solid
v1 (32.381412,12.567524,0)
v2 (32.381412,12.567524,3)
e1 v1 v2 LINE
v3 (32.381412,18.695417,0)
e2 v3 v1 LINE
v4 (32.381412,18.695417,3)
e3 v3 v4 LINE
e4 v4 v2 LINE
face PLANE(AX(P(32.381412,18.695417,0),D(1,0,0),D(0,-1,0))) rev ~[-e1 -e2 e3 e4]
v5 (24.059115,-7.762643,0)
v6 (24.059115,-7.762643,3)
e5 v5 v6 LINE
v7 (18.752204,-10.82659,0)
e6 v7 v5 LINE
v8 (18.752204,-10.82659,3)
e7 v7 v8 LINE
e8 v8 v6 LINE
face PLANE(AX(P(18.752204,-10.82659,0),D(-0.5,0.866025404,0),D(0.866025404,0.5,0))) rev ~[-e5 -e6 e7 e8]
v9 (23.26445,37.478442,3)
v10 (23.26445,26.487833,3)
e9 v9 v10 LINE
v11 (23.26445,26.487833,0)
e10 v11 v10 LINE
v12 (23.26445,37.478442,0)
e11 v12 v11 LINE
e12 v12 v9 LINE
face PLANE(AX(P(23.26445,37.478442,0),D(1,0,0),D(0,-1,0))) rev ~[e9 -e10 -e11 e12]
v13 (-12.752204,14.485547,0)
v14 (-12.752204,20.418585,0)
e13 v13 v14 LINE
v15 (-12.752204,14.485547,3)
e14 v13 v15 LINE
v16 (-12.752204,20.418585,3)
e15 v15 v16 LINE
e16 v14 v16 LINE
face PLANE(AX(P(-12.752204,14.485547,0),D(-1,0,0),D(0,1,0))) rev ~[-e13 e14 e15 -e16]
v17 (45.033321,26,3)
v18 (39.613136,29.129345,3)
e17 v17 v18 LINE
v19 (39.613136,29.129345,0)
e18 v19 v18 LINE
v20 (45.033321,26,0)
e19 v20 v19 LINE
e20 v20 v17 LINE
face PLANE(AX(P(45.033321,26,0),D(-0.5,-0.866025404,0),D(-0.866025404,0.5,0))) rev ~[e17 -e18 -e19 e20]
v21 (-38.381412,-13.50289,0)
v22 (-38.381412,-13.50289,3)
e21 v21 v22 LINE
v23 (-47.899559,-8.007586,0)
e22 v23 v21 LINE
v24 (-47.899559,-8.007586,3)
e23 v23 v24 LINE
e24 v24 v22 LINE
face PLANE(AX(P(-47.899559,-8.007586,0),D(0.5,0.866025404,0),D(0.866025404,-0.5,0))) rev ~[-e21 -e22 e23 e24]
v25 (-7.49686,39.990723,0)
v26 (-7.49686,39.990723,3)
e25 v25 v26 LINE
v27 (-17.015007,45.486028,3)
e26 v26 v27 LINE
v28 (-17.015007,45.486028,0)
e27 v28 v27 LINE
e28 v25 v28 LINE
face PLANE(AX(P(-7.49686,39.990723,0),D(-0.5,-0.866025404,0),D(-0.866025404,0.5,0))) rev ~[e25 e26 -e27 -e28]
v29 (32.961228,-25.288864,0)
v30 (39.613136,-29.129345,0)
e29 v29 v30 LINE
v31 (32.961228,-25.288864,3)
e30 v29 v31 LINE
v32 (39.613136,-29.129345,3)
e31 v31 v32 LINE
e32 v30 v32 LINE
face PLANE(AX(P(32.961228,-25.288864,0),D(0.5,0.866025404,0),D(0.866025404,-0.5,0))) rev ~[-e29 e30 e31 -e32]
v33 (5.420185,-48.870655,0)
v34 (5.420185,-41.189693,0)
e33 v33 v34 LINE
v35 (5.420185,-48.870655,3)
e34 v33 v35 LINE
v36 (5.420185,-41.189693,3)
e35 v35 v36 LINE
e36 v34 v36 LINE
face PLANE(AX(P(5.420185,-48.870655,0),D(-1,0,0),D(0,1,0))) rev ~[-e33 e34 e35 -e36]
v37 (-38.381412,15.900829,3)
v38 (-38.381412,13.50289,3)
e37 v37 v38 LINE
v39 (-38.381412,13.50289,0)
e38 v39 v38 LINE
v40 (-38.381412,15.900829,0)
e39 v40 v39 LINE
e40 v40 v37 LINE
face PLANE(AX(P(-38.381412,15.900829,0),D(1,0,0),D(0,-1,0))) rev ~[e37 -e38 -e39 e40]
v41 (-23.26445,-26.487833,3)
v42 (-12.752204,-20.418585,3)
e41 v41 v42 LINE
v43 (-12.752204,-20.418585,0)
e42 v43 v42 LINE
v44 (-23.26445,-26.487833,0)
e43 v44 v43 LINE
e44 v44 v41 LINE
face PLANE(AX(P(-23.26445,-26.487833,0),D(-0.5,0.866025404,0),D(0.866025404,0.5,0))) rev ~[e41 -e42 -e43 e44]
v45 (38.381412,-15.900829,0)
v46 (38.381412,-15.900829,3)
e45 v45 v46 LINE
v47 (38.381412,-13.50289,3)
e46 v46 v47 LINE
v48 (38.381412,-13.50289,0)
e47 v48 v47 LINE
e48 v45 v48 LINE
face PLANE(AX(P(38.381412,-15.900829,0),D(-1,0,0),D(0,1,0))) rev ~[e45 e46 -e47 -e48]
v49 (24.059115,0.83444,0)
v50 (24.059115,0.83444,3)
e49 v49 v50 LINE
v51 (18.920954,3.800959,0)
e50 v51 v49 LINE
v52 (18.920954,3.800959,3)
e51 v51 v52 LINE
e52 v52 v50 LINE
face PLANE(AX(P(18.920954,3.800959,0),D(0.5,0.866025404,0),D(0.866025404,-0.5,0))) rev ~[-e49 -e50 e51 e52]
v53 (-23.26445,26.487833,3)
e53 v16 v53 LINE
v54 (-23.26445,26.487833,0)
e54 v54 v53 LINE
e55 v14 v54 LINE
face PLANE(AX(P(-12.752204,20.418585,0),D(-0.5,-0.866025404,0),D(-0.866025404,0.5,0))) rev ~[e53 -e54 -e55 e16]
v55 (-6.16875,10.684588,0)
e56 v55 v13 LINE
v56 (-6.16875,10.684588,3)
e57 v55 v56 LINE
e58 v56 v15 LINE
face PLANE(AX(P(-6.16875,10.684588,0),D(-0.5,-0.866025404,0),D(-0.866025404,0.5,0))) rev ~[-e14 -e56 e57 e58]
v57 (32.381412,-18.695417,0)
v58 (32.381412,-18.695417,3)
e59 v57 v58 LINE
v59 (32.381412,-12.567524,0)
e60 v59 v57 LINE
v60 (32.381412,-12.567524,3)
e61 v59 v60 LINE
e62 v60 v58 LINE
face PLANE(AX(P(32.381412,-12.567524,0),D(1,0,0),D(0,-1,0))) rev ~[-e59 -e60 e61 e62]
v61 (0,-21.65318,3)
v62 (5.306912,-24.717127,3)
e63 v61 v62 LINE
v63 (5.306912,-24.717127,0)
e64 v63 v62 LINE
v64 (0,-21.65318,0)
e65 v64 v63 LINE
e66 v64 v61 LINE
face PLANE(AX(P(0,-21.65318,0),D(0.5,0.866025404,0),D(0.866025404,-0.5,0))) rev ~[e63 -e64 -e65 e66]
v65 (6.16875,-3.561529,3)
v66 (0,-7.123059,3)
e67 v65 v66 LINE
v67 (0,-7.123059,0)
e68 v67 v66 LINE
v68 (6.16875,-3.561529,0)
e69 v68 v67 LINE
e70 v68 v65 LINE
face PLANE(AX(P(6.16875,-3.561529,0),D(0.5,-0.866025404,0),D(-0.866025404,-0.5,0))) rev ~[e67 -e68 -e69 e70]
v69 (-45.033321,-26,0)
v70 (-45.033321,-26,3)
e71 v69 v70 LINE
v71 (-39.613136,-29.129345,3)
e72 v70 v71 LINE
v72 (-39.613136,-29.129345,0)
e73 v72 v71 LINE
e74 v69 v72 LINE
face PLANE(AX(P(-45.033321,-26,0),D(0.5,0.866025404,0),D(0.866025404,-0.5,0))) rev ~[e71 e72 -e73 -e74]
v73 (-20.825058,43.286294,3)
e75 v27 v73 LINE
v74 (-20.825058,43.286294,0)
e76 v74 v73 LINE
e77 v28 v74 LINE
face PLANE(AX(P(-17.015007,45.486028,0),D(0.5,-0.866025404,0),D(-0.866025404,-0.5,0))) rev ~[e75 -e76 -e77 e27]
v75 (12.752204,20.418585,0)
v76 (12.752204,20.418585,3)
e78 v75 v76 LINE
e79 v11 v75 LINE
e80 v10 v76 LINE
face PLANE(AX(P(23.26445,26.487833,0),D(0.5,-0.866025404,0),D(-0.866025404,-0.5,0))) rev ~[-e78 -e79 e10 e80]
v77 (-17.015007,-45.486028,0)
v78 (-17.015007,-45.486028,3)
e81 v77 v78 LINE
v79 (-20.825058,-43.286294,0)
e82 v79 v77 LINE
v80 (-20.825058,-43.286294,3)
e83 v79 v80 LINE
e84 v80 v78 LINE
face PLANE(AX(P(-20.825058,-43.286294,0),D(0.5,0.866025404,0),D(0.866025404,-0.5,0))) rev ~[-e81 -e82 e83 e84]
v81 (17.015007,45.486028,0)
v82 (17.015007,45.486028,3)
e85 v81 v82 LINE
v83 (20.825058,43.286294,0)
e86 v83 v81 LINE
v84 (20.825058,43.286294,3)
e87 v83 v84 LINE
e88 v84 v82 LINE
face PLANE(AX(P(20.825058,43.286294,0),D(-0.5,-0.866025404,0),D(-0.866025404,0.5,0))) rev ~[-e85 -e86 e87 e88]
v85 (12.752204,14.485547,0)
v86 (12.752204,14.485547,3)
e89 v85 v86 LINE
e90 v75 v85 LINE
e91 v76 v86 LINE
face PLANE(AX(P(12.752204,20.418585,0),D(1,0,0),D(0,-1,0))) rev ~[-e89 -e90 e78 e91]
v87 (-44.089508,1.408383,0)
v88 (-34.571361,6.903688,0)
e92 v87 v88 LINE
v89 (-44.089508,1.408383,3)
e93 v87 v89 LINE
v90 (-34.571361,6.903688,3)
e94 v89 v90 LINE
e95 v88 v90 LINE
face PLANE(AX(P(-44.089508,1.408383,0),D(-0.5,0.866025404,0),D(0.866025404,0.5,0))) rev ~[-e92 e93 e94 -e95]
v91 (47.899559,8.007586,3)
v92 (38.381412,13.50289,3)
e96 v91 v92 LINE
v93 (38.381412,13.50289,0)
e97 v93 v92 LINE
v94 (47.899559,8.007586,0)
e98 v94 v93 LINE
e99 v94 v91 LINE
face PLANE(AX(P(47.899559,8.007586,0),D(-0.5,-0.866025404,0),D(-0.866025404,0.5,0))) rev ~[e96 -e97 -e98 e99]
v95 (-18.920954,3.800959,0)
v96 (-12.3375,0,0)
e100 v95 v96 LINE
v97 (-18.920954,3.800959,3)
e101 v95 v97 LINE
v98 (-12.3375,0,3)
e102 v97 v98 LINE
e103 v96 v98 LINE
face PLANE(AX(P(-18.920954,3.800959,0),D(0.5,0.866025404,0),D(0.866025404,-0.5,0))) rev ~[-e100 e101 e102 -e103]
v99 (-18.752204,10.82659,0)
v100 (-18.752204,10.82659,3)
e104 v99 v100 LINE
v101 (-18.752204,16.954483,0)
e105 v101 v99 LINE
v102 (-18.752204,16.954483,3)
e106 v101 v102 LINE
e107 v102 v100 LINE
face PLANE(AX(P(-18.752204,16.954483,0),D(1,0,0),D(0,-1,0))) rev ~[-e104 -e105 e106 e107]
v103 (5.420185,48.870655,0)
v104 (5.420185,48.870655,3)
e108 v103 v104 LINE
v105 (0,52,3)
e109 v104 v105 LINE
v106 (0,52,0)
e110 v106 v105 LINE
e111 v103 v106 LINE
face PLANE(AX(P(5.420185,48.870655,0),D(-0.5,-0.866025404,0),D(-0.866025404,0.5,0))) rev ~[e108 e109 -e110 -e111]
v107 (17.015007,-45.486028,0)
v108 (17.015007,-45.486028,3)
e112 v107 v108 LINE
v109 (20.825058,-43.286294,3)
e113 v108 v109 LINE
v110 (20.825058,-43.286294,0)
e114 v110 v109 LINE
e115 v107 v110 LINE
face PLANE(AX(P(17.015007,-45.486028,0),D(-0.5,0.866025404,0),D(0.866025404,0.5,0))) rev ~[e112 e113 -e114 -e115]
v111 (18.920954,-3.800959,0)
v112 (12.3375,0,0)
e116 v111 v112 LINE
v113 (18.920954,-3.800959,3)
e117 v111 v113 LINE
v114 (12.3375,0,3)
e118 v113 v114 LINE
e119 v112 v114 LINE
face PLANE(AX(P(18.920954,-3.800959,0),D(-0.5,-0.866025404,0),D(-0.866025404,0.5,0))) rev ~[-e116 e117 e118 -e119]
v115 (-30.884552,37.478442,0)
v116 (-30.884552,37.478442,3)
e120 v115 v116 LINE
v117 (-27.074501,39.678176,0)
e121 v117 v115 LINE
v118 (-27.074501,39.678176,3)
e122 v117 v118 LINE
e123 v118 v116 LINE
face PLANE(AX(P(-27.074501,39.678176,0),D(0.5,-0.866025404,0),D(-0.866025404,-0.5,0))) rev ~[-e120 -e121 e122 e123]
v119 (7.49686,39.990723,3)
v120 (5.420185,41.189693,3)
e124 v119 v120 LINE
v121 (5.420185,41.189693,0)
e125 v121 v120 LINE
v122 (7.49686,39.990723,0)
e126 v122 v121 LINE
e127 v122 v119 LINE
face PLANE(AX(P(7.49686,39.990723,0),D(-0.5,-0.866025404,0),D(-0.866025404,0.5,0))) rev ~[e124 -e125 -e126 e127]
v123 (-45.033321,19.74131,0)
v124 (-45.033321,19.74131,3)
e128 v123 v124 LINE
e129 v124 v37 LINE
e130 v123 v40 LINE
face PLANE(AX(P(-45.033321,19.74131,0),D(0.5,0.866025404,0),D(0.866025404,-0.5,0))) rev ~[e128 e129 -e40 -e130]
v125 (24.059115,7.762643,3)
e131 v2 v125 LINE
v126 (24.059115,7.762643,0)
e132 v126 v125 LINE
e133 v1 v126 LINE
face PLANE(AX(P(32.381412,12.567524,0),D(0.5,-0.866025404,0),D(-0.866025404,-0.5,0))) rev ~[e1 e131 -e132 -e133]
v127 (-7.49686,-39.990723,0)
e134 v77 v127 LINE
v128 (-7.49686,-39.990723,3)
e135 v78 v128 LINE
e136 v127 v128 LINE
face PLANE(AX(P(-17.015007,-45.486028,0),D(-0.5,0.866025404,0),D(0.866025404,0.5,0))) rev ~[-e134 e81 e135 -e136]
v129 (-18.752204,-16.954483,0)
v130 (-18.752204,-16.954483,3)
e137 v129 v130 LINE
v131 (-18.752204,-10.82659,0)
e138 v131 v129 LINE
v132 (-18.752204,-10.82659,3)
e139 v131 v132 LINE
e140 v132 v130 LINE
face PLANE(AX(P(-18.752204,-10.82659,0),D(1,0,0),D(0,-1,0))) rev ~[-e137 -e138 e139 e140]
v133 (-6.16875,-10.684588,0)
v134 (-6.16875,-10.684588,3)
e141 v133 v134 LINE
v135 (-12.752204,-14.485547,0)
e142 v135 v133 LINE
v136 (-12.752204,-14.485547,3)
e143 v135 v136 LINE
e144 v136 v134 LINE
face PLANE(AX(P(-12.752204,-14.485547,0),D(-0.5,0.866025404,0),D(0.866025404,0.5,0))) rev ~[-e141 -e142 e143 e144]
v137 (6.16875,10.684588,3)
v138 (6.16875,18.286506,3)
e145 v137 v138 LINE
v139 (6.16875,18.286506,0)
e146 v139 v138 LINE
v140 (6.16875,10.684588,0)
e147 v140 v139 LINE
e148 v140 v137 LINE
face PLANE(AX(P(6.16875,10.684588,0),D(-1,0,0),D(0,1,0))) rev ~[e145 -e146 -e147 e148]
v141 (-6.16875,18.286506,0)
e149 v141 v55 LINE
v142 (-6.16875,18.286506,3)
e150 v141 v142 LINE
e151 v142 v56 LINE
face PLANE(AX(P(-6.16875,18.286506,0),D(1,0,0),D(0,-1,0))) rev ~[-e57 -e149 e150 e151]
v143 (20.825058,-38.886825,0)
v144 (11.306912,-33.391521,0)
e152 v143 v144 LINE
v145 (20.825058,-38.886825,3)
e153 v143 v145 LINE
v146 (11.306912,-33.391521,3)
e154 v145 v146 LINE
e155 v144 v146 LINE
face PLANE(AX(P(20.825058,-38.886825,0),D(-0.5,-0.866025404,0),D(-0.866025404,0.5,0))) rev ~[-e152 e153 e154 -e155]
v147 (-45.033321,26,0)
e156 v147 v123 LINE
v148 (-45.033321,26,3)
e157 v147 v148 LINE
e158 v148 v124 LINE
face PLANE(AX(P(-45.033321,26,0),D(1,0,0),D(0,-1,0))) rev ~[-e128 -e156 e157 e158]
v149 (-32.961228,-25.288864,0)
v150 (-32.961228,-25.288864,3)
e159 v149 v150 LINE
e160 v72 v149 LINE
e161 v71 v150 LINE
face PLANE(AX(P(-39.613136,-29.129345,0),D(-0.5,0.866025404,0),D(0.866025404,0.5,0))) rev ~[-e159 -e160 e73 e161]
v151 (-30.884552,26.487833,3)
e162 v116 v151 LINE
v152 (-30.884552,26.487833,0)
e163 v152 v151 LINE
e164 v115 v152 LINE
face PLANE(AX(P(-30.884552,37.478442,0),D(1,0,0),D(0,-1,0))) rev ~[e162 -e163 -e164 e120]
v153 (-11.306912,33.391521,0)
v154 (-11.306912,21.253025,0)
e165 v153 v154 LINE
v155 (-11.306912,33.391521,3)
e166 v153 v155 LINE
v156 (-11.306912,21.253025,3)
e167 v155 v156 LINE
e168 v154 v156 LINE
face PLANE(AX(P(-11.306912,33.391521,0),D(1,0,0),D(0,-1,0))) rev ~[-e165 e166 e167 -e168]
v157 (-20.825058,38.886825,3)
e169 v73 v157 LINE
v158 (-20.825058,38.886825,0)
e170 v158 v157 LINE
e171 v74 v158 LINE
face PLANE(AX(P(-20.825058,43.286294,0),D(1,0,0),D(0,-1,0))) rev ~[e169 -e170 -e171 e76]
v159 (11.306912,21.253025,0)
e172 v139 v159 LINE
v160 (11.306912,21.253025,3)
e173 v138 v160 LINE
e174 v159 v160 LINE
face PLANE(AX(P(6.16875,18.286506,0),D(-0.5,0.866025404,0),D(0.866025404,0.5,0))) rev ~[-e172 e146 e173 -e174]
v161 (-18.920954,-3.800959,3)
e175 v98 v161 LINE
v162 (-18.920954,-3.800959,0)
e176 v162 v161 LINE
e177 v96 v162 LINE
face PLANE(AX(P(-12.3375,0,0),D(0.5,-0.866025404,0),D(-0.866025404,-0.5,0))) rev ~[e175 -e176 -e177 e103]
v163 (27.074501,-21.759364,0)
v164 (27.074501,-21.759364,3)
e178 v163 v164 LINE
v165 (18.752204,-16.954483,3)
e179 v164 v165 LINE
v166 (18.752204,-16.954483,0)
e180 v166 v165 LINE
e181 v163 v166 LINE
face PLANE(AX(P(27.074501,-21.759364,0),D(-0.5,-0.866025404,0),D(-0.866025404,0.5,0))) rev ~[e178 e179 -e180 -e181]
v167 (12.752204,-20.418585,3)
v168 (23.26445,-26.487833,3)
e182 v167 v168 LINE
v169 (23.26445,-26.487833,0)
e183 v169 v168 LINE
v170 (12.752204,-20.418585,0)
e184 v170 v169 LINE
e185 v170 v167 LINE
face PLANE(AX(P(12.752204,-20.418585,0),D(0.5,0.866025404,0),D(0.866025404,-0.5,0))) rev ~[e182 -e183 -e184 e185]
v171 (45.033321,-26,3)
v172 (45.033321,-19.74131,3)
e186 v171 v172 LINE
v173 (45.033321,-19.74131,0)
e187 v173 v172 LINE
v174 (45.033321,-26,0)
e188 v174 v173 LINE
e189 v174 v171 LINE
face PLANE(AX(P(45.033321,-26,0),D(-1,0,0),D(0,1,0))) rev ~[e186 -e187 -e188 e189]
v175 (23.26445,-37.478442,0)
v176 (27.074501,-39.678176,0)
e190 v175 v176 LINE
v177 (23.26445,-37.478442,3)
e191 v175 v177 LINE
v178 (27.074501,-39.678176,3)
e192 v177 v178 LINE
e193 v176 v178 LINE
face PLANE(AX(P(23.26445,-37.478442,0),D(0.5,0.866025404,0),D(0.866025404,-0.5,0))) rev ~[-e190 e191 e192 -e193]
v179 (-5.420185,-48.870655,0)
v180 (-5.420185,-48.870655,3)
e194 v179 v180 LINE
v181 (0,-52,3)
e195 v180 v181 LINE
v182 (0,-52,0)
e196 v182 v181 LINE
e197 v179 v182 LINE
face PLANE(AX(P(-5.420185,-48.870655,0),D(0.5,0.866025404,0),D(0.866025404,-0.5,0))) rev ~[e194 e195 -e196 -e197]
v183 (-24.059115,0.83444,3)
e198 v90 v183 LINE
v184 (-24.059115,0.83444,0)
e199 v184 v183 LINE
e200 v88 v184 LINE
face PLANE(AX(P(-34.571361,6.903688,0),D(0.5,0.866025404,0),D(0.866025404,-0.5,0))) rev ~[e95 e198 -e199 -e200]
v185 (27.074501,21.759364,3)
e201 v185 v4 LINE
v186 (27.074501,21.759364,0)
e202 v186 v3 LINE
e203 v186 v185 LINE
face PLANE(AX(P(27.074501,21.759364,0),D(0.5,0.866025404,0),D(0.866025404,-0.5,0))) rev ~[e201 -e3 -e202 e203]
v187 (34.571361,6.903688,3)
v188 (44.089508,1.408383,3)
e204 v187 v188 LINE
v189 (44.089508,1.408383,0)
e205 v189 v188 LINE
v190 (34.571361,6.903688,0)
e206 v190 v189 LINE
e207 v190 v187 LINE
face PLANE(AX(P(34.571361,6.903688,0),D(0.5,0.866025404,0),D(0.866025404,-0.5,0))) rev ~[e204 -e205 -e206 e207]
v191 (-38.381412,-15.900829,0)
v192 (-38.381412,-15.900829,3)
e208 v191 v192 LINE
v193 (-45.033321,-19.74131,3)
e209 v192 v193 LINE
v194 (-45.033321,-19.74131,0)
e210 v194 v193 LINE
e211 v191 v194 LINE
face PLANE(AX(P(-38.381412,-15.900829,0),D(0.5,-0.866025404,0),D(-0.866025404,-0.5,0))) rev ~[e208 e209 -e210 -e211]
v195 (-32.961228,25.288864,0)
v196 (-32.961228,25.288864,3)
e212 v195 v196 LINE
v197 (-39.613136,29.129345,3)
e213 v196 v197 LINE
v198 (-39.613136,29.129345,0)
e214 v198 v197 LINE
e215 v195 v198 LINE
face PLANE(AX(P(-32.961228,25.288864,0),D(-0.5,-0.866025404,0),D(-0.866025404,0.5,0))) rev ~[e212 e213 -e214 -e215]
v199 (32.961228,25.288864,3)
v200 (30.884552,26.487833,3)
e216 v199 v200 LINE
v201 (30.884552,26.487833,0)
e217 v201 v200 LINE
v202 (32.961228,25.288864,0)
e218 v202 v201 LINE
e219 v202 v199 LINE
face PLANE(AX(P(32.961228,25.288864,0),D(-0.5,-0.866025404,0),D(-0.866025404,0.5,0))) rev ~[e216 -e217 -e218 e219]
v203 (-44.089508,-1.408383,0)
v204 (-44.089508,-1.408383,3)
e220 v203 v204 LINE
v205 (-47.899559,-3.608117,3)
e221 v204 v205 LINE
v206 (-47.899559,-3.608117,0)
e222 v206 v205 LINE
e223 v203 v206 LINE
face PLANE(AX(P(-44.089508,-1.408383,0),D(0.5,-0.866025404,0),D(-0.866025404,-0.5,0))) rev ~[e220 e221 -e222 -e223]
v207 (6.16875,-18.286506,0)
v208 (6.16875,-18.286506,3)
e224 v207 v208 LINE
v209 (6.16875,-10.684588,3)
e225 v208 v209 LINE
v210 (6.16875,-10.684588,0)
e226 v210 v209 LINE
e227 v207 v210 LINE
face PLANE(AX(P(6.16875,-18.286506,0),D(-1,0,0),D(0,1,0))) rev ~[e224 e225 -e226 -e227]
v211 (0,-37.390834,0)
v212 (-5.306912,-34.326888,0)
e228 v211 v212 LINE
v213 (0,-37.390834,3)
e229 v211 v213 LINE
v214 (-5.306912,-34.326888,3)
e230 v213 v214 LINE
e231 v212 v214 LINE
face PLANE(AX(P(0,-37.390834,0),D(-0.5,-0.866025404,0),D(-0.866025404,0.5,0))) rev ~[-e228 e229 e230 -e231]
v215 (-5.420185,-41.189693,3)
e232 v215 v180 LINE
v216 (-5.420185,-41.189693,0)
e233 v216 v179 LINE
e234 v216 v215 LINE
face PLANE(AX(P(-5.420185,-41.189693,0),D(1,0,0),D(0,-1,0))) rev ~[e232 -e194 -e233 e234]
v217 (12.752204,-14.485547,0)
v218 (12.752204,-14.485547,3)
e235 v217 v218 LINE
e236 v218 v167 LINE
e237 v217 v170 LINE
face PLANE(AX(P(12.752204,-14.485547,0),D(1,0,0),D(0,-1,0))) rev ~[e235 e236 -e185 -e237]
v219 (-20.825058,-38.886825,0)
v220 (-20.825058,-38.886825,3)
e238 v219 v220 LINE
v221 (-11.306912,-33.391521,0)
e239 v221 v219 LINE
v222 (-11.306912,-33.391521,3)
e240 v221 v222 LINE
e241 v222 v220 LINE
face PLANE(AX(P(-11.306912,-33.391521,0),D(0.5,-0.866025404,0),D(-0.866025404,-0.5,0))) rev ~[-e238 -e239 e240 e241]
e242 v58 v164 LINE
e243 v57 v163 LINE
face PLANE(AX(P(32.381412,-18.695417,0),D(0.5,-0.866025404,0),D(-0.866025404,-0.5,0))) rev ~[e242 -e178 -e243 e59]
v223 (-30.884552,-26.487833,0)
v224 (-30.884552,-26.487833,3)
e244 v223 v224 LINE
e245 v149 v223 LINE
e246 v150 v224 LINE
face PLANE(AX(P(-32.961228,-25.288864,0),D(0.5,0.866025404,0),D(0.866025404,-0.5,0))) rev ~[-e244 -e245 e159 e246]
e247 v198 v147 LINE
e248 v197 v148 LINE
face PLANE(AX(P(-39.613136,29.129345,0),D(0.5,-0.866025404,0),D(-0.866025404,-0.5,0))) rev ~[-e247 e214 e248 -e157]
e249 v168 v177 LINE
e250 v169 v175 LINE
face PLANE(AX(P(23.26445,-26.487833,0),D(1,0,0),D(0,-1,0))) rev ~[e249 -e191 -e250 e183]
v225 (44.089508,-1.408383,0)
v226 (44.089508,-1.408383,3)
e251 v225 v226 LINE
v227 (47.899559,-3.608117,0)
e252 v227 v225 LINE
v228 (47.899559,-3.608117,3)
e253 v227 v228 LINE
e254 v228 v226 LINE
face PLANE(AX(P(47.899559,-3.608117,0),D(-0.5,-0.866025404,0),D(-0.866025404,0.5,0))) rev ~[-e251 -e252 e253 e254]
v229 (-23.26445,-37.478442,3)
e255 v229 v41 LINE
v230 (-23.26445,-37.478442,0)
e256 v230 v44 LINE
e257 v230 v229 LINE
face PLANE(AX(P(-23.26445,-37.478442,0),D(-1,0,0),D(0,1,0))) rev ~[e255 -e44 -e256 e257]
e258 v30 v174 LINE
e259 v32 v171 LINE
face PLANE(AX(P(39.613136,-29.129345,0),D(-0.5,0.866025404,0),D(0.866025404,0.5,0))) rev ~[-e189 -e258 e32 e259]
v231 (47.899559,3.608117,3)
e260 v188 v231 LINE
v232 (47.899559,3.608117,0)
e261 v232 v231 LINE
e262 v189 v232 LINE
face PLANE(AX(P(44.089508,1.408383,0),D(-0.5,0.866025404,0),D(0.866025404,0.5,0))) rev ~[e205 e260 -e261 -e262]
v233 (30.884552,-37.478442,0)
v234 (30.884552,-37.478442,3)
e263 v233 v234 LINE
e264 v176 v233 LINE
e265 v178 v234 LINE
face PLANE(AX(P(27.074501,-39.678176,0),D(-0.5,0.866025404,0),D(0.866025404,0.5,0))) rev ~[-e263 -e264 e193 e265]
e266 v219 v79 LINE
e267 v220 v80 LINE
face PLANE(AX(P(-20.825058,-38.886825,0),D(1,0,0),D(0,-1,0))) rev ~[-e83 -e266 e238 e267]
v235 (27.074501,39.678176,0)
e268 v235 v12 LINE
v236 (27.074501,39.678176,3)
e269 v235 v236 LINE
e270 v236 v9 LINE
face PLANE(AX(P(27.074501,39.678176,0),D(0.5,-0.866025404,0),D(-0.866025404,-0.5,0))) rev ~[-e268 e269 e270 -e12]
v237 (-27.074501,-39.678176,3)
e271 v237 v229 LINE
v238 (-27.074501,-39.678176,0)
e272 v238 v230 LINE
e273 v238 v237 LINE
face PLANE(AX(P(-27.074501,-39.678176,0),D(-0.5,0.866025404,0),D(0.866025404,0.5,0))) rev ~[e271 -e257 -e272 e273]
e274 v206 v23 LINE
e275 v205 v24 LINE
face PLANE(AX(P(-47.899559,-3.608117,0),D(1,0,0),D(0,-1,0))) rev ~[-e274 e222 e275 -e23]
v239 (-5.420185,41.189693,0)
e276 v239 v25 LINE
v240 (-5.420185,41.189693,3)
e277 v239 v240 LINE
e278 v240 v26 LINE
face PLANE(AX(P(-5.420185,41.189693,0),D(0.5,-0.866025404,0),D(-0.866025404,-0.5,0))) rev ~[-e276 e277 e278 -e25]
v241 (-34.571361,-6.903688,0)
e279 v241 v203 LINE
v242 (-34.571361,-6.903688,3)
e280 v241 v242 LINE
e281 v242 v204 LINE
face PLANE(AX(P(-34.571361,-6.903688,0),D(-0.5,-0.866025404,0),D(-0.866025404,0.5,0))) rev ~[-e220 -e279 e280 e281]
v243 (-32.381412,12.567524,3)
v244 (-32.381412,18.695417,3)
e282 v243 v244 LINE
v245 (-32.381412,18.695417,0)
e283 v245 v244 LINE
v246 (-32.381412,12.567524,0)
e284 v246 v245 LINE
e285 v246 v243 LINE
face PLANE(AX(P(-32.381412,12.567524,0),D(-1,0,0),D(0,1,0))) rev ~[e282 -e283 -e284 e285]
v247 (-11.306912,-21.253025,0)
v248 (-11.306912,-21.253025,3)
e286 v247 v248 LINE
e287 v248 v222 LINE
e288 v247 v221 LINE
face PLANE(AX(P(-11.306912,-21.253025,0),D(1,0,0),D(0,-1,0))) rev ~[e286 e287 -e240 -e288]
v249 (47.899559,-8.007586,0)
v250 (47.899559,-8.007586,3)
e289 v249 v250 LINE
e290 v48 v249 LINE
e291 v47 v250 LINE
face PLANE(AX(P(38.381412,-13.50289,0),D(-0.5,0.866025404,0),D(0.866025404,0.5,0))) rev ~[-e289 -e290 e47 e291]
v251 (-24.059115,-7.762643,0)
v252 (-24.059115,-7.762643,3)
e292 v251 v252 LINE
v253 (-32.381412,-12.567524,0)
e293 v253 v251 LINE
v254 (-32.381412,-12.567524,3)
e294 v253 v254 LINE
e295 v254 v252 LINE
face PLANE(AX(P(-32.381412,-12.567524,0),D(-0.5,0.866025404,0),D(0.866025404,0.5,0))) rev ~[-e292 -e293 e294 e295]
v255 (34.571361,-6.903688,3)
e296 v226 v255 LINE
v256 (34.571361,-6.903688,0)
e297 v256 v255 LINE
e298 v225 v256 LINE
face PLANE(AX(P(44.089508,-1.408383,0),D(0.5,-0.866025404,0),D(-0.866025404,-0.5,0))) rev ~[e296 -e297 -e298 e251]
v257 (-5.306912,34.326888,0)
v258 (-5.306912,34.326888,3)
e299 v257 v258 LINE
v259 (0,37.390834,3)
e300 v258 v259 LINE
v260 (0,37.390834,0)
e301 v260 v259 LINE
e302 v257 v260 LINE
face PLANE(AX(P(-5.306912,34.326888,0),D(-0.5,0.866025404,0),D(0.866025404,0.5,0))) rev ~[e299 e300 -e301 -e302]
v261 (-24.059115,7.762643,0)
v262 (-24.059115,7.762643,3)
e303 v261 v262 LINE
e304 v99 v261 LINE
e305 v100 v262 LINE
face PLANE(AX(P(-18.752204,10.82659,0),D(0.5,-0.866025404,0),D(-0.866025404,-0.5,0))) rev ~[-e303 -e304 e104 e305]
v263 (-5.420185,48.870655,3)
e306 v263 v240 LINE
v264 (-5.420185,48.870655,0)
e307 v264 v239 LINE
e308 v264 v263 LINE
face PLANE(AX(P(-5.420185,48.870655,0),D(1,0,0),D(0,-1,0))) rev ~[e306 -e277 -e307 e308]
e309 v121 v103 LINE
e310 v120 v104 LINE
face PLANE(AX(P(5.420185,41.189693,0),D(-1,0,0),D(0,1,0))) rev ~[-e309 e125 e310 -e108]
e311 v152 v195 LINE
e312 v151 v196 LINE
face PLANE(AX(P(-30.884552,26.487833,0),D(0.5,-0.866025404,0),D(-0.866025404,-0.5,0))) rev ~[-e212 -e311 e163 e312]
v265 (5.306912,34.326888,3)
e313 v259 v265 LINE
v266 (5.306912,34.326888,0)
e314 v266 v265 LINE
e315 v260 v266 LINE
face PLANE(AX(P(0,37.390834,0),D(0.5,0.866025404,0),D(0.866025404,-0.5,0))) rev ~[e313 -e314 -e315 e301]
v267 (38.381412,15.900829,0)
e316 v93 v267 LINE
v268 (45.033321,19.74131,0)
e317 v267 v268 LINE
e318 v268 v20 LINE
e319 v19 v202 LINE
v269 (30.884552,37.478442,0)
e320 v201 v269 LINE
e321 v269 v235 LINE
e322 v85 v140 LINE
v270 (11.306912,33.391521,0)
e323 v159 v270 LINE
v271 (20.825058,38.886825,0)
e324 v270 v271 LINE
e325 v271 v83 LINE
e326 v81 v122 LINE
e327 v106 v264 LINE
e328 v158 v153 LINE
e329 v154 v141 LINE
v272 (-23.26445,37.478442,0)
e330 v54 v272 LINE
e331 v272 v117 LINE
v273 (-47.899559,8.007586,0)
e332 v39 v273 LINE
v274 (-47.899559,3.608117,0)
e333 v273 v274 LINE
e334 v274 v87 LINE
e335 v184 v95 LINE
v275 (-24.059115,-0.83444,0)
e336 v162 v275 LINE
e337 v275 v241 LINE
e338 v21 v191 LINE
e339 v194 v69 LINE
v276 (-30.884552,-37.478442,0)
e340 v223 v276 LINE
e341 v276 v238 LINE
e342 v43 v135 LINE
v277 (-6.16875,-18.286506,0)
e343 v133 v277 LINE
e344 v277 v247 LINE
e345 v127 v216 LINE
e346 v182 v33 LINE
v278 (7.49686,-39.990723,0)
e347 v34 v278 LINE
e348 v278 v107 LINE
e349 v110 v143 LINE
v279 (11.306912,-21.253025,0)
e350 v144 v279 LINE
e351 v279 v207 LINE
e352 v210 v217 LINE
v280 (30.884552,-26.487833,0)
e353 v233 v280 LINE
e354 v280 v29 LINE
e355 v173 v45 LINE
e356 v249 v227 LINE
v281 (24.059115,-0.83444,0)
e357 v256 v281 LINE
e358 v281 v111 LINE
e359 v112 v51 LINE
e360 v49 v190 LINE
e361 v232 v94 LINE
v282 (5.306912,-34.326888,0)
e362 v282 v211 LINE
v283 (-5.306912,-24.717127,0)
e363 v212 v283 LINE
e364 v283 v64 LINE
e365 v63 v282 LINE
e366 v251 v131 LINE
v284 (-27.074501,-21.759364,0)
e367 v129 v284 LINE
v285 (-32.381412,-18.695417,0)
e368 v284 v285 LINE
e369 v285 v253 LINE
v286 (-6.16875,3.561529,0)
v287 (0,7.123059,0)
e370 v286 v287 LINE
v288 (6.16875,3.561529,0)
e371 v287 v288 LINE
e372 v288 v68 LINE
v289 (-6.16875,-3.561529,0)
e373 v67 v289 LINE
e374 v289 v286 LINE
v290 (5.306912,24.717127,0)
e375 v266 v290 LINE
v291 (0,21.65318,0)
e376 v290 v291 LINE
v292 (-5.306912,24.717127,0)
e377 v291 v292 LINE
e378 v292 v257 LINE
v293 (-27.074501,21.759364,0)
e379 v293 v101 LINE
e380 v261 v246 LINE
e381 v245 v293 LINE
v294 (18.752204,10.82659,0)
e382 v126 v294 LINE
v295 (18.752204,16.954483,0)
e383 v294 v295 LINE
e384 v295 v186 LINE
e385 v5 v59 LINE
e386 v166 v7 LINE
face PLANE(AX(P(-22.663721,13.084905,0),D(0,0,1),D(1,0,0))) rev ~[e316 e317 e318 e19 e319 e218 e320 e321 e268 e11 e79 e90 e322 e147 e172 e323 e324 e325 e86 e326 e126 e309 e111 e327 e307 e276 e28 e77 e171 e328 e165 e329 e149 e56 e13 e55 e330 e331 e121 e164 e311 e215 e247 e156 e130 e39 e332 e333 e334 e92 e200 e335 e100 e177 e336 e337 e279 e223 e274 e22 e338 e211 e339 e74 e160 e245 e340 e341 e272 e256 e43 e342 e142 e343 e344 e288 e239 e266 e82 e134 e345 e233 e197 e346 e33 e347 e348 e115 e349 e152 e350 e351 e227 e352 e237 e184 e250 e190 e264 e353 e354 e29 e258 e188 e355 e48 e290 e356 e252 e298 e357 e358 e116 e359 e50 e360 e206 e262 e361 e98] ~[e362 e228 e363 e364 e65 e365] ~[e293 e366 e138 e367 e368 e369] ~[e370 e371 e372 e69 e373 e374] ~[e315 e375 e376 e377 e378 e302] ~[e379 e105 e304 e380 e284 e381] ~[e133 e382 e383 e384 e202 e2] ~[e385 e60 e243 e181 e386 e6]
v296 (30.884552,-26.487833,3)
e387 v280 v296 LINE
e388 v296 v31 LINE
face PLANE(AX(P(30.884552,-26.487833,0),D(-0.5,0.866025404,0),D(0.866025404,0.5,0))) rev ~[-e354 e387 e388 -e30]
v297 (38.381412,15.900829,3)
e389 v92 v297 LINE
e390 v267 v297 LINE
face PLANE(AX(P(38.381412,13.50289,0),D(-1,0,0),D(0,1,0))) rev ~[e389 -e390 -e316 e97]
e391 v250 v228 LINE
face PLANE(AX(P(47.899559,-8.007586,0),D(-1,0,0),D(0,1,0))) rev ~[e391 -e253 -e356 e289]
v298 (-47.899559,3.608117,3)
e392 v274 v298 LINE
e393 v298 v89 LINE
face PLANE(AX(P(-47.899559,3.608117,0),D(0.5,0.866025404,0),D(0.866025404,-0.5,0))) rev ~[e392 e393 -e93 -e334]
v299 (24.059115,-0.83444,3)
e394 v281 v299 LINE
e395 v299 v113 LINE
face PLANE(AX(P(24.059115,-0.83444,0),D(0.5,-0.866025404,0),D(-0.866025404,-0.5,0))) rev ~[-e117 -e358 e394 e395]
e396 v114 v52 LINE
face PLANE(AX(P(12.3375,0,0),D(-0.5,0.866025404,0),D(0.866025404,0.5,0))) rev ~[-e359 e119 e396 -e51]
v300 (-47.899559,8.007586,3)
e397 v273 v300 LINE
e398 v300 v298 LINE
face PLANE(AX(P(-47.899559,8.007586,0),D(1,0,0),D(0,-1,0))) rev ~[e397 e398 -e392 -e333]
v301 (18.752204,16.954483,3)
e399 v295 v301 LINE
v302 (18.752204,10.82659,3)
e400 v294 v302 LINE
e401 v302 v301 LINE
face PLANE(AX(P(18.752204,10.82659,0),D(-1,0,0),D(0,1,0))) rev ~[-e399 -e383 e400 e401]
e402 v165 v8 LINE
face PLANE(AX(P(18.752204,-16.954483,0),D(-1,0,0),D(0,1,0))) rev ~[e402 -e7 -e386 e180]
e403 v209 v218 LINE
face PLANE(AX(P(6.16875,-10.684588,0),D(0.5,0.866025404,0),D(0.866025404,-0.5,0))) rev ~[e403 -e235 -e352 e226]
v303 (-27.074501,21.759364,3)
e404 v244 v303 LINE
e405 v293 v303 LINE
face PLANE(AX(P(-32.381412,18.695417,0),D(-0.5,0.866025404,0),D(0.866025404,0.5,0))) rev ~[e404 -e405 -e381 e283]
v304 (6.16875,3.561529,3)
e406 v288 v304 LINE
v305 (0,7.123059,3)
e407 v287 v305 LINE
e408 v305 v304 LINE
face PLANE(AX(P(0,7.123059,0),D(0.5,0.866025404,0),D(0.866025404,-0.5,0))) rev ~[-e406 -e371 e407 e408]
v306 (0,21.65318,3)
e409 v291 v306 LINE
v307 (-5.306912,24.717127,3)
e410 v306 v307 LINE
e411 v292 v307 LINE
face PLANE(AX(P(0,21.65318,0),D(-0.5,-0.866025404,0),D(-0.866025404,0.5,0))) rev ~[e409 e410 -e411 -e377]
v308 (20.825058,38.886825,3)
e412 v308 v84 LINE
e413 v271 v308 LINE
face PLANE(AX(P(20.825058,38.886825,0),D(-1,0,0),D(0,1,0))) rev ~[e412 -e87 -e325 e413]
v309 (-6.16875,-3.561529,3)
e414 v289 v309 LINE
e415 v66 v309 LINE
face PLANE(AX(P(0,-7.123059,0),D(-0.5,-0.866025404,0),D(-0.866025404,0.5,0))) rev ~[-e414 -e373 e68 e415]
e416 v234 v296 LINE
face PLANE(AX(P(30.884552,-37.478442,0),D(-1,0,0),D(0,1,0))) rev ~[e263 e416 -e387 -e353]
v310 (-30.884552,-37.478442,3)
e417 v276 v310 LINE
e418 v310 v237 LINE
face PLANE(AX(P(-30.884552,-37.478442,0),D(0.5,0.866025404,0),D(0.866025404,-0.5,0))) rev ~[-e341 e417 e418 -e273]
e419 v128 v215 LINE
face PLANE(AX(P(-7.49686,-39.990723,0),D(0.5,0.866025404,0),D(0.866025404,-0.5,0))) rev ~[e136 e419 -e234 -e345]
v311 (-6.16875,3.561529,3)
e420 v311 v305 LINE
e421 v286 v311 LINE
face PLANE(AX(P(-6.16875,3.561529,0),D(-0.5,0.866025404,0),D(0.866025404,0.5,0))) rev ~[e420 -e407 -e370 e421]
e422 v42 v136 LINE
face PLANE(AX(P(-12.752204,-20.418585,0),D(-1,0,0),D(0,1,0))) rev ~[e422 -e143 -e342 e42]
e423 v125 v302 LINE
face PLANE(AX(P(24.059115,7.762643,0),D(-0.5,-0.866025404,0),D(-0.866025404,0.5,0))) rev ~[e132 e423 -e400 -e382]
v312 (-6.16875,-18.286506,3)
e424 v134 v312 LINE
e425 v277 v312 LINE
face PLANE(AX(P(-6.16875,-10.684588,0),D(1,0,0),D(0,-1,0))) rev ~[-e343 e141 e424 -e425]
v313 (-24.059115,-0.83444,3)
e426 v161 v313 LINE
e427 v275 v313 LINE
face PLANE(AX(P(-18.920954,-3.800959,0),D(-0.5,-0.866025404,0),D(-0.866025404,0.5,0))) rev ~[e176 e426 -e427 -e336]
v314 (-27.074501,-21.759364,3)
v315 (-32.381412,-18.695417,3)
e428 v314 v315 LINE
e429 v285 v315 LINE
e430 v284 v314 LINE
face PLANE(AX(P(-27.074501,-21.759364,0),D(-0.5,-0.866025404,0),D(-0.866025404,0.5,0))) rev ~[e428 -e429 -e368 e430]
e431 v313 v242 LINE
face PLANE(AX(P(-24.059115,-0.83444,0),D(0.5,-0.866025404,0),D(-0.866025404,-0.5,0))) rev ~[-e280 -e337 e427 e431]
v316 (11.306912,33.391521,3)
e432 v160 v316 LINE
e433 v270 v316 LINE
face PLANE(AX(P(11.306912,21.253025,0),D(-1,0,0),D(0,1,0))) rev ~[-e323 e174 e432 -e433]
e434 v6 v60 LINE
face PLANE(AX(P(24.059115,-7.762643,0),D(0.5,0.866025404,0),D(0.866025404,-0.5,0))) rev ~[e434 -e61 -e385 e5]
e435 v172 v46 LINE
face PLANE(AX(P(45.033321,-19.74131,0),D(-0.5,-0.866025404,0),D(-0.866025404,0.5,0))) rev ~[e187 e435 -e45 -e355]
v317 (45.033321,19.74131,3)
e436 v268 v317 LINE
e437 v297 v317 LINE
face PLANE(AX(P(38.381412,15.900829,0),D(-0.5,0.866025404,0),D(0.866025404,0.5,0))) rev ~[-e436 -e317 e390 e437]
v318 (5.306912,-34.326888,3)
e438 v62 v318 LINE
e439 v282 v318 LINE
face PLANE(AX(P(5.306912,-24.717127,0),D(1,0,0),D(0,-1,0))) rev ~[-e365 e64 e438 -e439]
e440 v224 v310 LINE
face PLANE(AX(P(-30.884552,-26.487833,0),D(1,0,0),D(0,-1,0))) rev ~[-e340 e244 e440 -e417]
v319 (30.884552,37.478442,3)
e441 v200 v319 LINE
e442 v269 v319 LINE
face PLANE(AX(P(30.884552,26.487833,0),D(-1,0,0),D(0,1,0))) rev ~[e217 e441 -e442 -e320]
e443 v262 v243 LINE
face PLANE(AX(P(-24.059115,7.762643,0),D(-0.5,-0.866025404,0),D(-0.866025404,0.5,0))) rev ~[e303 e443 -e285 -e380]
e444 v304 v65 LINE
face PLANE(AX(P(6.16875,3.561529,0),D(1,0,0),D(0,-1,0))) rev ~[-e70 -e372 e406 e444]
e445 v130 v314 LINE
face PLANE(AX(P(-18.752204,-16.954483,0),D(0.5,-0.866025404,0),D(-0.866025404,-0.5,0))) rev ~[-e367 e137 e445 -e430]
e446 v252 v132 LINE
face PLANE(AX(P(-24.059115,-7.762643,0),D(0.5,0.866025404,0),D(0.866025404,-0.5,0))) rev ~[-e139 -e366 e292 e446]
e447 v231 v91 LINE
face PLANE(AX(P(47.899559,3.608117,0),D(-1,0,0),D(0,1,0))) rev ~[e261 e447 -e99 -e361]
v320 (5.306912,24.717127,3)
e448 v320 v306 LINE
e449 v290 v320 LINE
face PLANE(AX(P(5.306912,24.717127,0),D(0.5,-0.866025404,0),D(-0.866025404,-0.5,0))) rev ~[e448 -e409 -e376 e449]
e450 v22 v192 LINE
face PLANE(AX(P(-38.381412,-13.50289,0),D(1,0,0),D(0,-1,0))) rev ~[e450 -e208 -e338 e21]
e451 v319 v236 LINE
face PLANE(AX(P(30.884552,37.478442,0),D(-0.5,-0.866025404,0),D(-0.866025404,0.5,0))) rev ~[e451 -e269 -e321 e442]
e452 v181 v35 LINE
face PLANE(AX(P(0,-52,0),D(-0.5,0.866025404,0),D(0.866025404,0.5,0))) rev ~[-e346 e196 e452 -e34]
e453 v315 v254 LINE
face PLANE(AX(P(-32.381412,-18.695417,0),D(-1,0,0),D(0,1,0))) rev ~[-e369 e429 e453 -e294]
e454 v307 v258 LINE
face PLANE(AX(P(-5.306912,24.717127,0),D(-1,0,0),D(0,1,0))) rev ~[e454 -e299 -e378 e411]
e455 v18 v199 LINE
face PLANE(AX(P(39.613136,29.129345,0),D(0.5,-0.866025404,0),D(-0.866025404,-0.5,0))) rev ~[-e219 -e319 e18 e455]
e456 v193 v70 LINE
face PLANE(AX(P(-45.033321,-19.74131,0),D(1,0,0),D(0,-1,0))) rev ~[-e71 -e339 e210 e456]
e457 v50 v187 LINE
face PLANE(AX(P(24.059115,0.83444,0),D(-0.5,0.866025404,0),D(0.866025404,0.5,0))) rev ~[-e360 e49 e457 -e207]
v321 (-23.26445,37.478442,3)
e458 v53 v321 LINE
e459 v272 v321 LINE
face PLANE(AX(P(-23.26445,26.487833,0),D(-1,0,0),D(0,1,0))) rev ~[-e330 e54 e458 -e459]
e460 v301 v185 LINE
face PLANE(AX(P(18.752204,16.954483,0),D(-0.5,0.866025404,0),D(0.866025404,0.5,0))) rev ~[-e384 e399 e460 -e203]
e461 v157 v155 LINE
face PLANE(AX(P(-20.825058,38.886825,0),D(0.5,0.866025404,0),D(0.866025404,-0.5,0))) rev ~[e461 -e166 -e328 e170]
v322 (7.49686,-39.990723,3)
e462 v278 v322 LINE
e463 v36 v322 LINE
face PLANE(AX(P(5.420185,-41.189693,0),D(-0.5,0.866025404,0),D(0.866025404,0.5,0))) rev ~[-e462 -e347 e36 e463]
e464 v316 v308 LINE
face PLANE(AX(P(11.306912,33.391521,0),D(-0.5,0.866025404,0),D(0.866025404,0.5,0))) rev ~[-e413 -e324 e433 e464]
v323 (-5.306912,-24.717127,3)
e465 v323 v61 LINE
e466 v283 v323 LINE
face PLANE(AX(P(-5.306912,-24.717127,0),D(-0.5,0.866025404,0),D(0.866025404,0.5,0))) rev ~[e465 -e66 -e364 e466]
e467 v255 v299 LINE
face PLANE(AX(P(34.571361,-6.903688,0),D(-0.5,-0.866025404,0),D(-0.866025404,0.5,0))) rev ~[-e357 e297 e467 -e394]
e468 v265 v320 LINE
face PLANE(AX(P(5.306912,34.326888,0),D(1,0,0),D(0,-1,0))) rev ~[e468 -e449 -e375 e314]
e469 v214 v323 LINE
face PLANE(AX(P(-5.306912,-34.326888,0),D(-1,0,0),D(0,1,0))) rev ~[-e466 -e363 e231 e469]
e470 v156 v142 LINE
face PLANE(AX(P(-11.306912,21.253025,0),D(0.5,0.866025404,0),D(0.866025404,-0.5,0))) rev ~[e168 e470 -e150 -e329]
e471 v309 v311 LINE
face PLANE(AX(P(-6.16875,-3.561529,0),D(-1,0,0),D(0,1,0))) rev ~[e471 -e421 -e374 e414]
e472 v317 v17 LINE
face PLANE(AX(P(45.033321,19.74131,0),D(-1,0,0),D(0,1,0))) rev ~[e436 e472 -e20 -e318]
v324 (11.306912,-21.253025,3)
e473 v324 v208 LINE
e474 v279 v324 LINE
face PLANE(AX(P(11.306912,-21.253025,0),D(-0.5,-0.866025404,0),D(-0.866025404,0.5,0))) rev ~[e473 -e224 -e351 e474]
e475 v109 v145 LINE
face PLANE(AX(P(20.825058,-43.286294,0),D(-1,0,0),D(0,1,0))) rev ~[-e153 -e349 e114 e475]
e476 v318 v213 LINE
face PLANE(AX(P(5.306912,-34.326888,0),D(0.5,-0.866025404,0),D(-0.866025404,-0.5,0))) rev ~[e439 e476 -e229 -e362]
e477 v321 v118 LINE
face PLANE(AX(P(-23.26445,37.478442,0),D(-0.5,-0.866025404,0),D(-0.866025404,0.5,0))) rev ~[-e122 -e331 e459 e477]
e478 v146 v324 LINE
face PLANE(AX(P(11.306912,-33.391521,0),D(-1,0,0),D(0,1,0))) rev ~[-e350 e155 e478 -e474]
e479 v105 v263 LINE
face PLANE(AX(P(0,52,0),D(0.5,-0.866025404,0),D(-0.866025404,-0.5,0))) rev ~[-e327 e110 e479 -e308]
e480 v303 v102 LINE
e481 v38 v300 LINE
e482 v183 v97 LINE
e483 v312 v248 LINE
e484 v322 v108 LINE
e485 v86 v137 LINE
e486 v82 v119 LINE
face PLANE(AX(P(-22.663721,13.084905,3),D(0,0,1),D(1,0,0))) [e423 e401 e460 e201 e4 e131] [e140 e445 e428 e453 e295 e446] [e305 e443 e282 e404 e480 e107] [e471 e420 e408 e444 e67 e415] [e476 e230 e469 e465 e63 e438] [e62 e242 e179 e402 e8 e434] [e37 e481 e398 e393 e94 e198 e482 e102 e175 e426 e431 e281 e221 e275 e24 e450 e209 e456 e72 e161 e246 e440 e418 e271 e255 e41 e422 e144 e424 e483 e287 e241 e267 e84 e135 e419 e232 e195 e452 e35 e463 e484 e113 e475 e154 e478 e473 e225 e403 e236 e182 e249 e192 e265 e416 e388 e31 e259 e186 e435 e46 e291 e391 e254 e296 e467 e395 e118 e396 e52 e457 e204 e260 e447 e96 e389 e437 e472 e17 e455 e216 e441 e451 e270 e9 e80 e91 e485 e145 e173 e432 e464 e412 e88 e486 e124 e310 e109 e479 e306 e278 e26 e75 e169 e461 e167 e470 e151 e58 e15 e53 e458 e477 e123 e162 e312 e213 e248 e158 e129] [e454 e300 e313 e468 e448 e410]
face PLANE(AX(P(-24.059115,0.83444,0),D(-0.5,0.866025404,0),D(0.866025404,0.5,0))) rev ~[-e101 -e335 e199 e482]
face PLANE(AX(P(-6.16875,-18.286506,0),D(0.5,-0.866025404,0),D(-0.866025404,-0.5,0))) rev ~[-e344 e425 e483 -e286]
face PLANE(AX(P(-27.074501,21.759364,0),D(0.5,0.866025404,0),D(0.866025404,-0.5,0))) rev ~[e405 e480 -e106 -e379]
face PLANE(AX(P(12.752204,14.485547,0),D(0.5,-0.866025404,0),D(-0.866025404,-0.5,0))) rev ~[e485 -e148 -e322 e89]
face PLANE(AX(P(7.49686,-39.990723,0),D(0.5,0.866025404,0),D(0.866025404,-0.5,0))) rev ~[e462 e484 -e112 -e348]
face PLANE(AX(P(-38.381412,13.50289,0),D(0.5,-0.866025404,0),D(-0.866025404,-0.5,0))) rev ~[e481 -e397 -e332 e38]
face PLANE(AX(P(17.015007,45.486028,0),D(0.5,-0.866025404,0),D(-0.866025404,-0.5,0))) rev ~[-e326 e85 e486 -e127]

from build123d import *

# Parameters (mm, degrees)
F1_DEPTH = 1.5
F2_SCALE = 2


with BuildPart() as f1:
    # F0 (on Top) → F1 (new body)
    with BuildSketch(Plane.XY):
        Polygon((-6.1687498137, 0), (-3.0843749069, 1.7807646828), (-3.0843749069, 5.3422940483), (-6.3761018887, 7.2427735073), (-6.3761018887, 10.2092925487), (-11.6322247993, 13.243916526), (-13.537250454, 14.3437836005), (-15.4422761086, 13.243916526), (-16.480613925, 12.6444319082), (-19.1907062114, 11.0797593971), (-19.1907062114, 7.9504143749), (-19.1907062114, 6.7514451393), (-19.1907062114, 4.5517109903), (-17.2856805568, 3.4518439158), (-12.0295576462, 0.4172199384), (-9.4604767956, 1.9004794591), align=None)
        Polygon((-16.1907062114, 6.2837617978), (-16.1907062114, 9.3477085895), (-13.537250454, 10.8796819854), (-9.3761018887, 8.4772417411), (-9.3761018887, 5.4132949494), (-12.0295576462, 3.8813215535), align=None, mode=Mode.SUBTRACT)
        Polygon((-3.0843749069, -1.7807646828), (-3.0843749069, 1.7807646828), (-6.1687498137, 0), align=None)
        Polygon((-3.0843749069, 5.3422940483), (-3.0843749069, 1.7807646828), (0, 3.5615293655), align=None)
        Polygon((-3.0843749069, 9.1432529664), (-3.0843749069, 5.3422940483), (0, 3.5615293655), (3.0843749069, 5.3422940483), (3.0843749069, 9.1432529664), (5.6534557575, 10.6265124871), (5.6534557575, 16.6957604418), (5.6534557575, 18.8954945908), (3.7484301028, 19.9953616653), (2.7100922865, 20.5948462831), (0, 22.1595187942), (-2.7100922865, 20.5948462831), (-3.7484301028, 19.9953616653), (-5.6534557575, 18.8954945908), (-5.6534557575, 16.6957604418), (-5.6534557575, 10.6265124871), align=None)
        Polygon((-2.6534557575, 17.1634437832), (0, 18.6954171791), (2.6534557575, 17.1634437832), (2.6534557575, 12.3585632946), (0, 10.8265898988), (-2.6534557575, 12.3585632946), align=None, mode=Mode.SUBTRACT)
        Polygon((-3.0843749069, -1.7807646828), (-6.1687498137, 0), (-9.4604767956, -1.9004794591), (-12.0295576462, -0.4172199384), (-17.2856805568, -3.4518439158), (-19.1907062114, -4.5517109903), (-19.1907062114, -6.7514451393), (-19.1907062114, -7.9504143749), (-19.1907062114, -11.0797593971), (-16.480613925, -12.6444319082), (-15.4422761086, -13.243916526), (-13.537250454, -14.3437836005), (-11.6322247993, -13.243916526), (-6.3761018887, -10.2092925487), (-6.3761018887, -7.2427735073), (-3.0843749069, -5.3422940483), align=None)
        Polygon((-13.537250454, -10.8796819854), (-16.1907062114, -9.3477085895), (-16.1907062114, -6.2837617978), (-12.0295576462, -3.8813215535), (-9.3761018887, -5.4132949494), (-9.3761018887, -8.4772417411), align=None, mode=Mode.SUBTRACT)
        Polygon((3.0843749069, 5.3422940483), (0, 3.5615293655), (3.0843749069, 1.7807646828), align=None)
        Polygon((0, -3.5615293655), (-3.0843749069, -1.7807646828), (-3.0843749069, -5.3422940483), align=None)
        Polygon((6.3761018887, 7.2427735073), (3.0843749069, 5.3422940483), (3.0843749069, 1.7807646828), (6.1687498137, 0), (9.4604767956, 1.9004794591), (12.0295576462, 0.4172199384), (17.2856805568, 3.4518439158), (19.1907062114, 4.5517109903), (19.1907062114, 6.7514451393), (19.1907062114, 7.9504143749), (19.1907062114, 11.0797593971), (16.480613925, 12.6444319082), (15.4422761086, 13.243916526), (13.537250454, 14.3437836005), (11.6322247993, 13.243916526), (6.3761018887, 10.2092925487), align=None)
        Polygon((13.537250454, 10.8796819854), (16.1907062114, 9.3477085895), (16.1907062114, 6.2837617978), (12.0295576462, 3.8813215535), (9.3761018887, 5.4132949494), (9.3761018887, 8.4772417411), align=None, mode=Mode.SUBTRACT)
        Polygon((6.1687498137, 0), (3.0843749069, 1.7807646828), (3.0843749069, -1.7807646828), align=None)
        Polygon((0, -3.5615293655), (-3.0843749069, -5.3422940483), (-3.0843749069, -9.1432529664), (-5.6534557575, -10.6265124871), (-5.6534557575, -16.6957604418), (-5.6534557575, -18.8954945908), (-3.7484301028, -19.9953616653), (-2.7100922865, -20.5948462831), (0, -22.1595187942), (2.7100922865, -20.5948462831), (3.7484301028, -19.9953616653), (5.6534557575, -18.8954945908), (5.6534557575, -16.6957604418), (5.6534557575, -10.6265124871), (3.0843749069, -9.1432529664), (3.0843749069, -5.3422940483), align=None)
        Polygon((2.6534557575, -17.1634437832), (0, -18.6954171791), (-2.6534557575, -17.1634437832), (-2.6534557575, -12.3585632946), (0, -10.8265898988), (2.6534557575, -12.3585632946), align=None, mode=Mode.SUBTRACT)
        Polygon((3.0843749069, -1.7807646828), (0, -3.5615293655), (3.0843749069, -5.3422940483), align=None)
        Polygon((9.4604767956, -1.9004794591), (6.1687498137, 0), (3.0843749069, -1.7807646828), (3.0843749069, -5.3422940483), (6.3761018887, -7.2427735073), (6.3761018887, -10.2092925487), (11.6322247993, -13.243916526), (13.537250454, -14.3437836005), (15.4422761086, -13.243916526), (16.480613925, -12.6444319082), (19.1907062114, -11.0797593971), (19.1907062114, -7.9504143749), (19.1907062114, -6.7514451393), (19.1907062114, -4.5517109903), (17.2856805568, -3.4518439158), (12.0295576462, -0.4172199384), align=None)
        Polygon((16.1907062114, -6.2837617978), (16.1907062114, -9.3477085895), (13.537250454, -10.8796819854), (9.3761018887, -8.4772417411), (9.3761018887, -5.4132949494), (12.0295576462, -3.8813215535), align=None, mode=Mode.SUBTRACT)
        Polygon((-10.4125291109, 19.4434127235), (-5.6534557575, 16.6957604418), (-5.6534557575, 18.8954945908), (-3.7484301028, 19.9953616653), (-8.5075034563, 22.743013947), (-10.4125291109, 21.6431468725), align=None)
        Polygon((-13.537250454, 14.3437836005), (-11.6322247993, 13.243916526), (-11.6322247993, 18.7392210894), (-13.537250454, 19.839088164), (-15.4422761086, 18.7392210894), (-15.4422761086, 13.243916526), align=None)
        Polygon((-22.0447539102, 0.704191634), (-17.2856805568, 3.4518439158), (-19.1907062114, 4.5517109903), (-19.1907062114, 6.7514451393), (-23.9497795649, 4.0037928576), (-23.9497795649, 1.8040587086), align=None)
        Polygon((-19.1907062114, -4.5517109903), (-17.2856805568, -3.4518439158), (-22.0447539102, -0.704191634), (-23.9497795649, -1.8040587086), (-23.9497795649, -4.0037928576), (-19.1907062114, -6.7514451393), align=None)
        Polygon((5.6534557575, 18.8954945908), (5.6534557575, 16.6957604418), (10.4125291109, 19.4434127235), (10.4125291109, 21.6431468725), (8.5075034563, 22.743013947), (3.7484301028, 19.9953616653), align=None)
        Polygon((11.6322247993, 18.7392210894), (11.6322247993, 13.243916526), (13.537250454, 14.3437836005), (15.4422761086, 13.243916526), (15.4422761086, 18.7392210894), (13.537250454, 19.839088164), align=None)
        Polygon((-11.6322247993, -18.7392210894), (-11.6322247993, -13.243916526), (-13.537250454, -14.3437836005), (-15.4422761086, -13.243916526), (-15.4422761086, -18.7392210894), (-13.537250454, -19.839088164), align=None)
        Polygon((-5.6534557575, -18.8954945908), (-5.6534557575, -16.6957604418), (-10.4125291109, -19.4434127235), (-10.4125291109, -21.6431468725), (-8.5075034563, -22.743013947), (-3.7484301028, -19.9953616653), align=None)
        Polygon((22.0447539102, -0.704191634), (17.2856805568, -3.4518439158), (19.1907062114, -4.5517109903), (19.1907062114, -6.7514451393), (23.9497795649, -4.0037928576), (23.9497795649, -1.8040587086), align=None)
        Polygon((19.1907062114, 4.5517109903), (17.2856805568, 3.4518439158), (22.0447539102, 0.704191634), (23.9497795649, 1.8040587086), (23.9497795649, 4.0037928576), (19.1907062114, 6.7514451393), align=None)
        Polygon((10.4125291109, -19.4434127235), (5.6534557575, -16.6957604418), (5.6534557575, -18.8954945908), (3.7484301028, -19.9953616653), (8.5075034563, -22.743013947), (10.4125291109, -21.6431468725), align=None)
        Polygon((13.537250454, -14.3437836005), (11.6322247993, -13.243916526), (11.6322247993, -18.7392210894), (13.537250454, -19.839088164), (15.4422761086, -18.7392210894), (15.4422761086, -13.243916526), align=None)
        Polygon((-2.7100922865, 24.4353274889), (-2.7100922865, 20.5948462831), (0, 22.1595187942), (2.7100922865, 20.5948462831), (2.7100922865, 24.4353274889), (0, 26), align=None)
        Polygon((-19.1907062114, 11.0797593971), (-16.480613925, 12.6444319082), (-19.8065682119, 14.5646725111), (-22.5166604984, 13), (-22.5166604984, 9.8706549778), (-19.1907062114, 7.9504143749), align=None)
        Polygon((-19.1907062114, -11.0797593971), (-19.1907062114, -7.9504143749), (-22.5166604984, -9.8706549778), (-22.5166604984, -13), (-19.8065682119, -14.5646725111), (-16.480613925, -12.6444319082), align=None)
        Polygon((19.8065682119, 14.5646725111), (16.480613925, 12.6444319082), (19.1907062114, 11.0797593971), (19.1907062114, 7.9504143749), (22.5166604984, 9.8706549778), (22.5166604984, 13), align=None)
        Polygon((0, -22.1595187942), (-2.7100922865, -20.5948462831), (-2.7100922865, -24.4353274889), (0, -26), (2.7100922865, -24.4353274889), (2.7100922865, -20.5948462831), align=None)
        Polygon((22.5166604984, -9.8706549778), (19.1907062114, -7.9504143749), (19.1907062114, -11.0797593971), (16.480613925, -12.6444319082), (19.8065682119, -14.5646725111), (22.5166604984, -13), align=None)
    extrude(amount=F1_DEPTH)


with BuildPart() as f1_1:
    # F2: moved
    add(f1.part.scale(F2_SCALE))


solid = f1_1.part
